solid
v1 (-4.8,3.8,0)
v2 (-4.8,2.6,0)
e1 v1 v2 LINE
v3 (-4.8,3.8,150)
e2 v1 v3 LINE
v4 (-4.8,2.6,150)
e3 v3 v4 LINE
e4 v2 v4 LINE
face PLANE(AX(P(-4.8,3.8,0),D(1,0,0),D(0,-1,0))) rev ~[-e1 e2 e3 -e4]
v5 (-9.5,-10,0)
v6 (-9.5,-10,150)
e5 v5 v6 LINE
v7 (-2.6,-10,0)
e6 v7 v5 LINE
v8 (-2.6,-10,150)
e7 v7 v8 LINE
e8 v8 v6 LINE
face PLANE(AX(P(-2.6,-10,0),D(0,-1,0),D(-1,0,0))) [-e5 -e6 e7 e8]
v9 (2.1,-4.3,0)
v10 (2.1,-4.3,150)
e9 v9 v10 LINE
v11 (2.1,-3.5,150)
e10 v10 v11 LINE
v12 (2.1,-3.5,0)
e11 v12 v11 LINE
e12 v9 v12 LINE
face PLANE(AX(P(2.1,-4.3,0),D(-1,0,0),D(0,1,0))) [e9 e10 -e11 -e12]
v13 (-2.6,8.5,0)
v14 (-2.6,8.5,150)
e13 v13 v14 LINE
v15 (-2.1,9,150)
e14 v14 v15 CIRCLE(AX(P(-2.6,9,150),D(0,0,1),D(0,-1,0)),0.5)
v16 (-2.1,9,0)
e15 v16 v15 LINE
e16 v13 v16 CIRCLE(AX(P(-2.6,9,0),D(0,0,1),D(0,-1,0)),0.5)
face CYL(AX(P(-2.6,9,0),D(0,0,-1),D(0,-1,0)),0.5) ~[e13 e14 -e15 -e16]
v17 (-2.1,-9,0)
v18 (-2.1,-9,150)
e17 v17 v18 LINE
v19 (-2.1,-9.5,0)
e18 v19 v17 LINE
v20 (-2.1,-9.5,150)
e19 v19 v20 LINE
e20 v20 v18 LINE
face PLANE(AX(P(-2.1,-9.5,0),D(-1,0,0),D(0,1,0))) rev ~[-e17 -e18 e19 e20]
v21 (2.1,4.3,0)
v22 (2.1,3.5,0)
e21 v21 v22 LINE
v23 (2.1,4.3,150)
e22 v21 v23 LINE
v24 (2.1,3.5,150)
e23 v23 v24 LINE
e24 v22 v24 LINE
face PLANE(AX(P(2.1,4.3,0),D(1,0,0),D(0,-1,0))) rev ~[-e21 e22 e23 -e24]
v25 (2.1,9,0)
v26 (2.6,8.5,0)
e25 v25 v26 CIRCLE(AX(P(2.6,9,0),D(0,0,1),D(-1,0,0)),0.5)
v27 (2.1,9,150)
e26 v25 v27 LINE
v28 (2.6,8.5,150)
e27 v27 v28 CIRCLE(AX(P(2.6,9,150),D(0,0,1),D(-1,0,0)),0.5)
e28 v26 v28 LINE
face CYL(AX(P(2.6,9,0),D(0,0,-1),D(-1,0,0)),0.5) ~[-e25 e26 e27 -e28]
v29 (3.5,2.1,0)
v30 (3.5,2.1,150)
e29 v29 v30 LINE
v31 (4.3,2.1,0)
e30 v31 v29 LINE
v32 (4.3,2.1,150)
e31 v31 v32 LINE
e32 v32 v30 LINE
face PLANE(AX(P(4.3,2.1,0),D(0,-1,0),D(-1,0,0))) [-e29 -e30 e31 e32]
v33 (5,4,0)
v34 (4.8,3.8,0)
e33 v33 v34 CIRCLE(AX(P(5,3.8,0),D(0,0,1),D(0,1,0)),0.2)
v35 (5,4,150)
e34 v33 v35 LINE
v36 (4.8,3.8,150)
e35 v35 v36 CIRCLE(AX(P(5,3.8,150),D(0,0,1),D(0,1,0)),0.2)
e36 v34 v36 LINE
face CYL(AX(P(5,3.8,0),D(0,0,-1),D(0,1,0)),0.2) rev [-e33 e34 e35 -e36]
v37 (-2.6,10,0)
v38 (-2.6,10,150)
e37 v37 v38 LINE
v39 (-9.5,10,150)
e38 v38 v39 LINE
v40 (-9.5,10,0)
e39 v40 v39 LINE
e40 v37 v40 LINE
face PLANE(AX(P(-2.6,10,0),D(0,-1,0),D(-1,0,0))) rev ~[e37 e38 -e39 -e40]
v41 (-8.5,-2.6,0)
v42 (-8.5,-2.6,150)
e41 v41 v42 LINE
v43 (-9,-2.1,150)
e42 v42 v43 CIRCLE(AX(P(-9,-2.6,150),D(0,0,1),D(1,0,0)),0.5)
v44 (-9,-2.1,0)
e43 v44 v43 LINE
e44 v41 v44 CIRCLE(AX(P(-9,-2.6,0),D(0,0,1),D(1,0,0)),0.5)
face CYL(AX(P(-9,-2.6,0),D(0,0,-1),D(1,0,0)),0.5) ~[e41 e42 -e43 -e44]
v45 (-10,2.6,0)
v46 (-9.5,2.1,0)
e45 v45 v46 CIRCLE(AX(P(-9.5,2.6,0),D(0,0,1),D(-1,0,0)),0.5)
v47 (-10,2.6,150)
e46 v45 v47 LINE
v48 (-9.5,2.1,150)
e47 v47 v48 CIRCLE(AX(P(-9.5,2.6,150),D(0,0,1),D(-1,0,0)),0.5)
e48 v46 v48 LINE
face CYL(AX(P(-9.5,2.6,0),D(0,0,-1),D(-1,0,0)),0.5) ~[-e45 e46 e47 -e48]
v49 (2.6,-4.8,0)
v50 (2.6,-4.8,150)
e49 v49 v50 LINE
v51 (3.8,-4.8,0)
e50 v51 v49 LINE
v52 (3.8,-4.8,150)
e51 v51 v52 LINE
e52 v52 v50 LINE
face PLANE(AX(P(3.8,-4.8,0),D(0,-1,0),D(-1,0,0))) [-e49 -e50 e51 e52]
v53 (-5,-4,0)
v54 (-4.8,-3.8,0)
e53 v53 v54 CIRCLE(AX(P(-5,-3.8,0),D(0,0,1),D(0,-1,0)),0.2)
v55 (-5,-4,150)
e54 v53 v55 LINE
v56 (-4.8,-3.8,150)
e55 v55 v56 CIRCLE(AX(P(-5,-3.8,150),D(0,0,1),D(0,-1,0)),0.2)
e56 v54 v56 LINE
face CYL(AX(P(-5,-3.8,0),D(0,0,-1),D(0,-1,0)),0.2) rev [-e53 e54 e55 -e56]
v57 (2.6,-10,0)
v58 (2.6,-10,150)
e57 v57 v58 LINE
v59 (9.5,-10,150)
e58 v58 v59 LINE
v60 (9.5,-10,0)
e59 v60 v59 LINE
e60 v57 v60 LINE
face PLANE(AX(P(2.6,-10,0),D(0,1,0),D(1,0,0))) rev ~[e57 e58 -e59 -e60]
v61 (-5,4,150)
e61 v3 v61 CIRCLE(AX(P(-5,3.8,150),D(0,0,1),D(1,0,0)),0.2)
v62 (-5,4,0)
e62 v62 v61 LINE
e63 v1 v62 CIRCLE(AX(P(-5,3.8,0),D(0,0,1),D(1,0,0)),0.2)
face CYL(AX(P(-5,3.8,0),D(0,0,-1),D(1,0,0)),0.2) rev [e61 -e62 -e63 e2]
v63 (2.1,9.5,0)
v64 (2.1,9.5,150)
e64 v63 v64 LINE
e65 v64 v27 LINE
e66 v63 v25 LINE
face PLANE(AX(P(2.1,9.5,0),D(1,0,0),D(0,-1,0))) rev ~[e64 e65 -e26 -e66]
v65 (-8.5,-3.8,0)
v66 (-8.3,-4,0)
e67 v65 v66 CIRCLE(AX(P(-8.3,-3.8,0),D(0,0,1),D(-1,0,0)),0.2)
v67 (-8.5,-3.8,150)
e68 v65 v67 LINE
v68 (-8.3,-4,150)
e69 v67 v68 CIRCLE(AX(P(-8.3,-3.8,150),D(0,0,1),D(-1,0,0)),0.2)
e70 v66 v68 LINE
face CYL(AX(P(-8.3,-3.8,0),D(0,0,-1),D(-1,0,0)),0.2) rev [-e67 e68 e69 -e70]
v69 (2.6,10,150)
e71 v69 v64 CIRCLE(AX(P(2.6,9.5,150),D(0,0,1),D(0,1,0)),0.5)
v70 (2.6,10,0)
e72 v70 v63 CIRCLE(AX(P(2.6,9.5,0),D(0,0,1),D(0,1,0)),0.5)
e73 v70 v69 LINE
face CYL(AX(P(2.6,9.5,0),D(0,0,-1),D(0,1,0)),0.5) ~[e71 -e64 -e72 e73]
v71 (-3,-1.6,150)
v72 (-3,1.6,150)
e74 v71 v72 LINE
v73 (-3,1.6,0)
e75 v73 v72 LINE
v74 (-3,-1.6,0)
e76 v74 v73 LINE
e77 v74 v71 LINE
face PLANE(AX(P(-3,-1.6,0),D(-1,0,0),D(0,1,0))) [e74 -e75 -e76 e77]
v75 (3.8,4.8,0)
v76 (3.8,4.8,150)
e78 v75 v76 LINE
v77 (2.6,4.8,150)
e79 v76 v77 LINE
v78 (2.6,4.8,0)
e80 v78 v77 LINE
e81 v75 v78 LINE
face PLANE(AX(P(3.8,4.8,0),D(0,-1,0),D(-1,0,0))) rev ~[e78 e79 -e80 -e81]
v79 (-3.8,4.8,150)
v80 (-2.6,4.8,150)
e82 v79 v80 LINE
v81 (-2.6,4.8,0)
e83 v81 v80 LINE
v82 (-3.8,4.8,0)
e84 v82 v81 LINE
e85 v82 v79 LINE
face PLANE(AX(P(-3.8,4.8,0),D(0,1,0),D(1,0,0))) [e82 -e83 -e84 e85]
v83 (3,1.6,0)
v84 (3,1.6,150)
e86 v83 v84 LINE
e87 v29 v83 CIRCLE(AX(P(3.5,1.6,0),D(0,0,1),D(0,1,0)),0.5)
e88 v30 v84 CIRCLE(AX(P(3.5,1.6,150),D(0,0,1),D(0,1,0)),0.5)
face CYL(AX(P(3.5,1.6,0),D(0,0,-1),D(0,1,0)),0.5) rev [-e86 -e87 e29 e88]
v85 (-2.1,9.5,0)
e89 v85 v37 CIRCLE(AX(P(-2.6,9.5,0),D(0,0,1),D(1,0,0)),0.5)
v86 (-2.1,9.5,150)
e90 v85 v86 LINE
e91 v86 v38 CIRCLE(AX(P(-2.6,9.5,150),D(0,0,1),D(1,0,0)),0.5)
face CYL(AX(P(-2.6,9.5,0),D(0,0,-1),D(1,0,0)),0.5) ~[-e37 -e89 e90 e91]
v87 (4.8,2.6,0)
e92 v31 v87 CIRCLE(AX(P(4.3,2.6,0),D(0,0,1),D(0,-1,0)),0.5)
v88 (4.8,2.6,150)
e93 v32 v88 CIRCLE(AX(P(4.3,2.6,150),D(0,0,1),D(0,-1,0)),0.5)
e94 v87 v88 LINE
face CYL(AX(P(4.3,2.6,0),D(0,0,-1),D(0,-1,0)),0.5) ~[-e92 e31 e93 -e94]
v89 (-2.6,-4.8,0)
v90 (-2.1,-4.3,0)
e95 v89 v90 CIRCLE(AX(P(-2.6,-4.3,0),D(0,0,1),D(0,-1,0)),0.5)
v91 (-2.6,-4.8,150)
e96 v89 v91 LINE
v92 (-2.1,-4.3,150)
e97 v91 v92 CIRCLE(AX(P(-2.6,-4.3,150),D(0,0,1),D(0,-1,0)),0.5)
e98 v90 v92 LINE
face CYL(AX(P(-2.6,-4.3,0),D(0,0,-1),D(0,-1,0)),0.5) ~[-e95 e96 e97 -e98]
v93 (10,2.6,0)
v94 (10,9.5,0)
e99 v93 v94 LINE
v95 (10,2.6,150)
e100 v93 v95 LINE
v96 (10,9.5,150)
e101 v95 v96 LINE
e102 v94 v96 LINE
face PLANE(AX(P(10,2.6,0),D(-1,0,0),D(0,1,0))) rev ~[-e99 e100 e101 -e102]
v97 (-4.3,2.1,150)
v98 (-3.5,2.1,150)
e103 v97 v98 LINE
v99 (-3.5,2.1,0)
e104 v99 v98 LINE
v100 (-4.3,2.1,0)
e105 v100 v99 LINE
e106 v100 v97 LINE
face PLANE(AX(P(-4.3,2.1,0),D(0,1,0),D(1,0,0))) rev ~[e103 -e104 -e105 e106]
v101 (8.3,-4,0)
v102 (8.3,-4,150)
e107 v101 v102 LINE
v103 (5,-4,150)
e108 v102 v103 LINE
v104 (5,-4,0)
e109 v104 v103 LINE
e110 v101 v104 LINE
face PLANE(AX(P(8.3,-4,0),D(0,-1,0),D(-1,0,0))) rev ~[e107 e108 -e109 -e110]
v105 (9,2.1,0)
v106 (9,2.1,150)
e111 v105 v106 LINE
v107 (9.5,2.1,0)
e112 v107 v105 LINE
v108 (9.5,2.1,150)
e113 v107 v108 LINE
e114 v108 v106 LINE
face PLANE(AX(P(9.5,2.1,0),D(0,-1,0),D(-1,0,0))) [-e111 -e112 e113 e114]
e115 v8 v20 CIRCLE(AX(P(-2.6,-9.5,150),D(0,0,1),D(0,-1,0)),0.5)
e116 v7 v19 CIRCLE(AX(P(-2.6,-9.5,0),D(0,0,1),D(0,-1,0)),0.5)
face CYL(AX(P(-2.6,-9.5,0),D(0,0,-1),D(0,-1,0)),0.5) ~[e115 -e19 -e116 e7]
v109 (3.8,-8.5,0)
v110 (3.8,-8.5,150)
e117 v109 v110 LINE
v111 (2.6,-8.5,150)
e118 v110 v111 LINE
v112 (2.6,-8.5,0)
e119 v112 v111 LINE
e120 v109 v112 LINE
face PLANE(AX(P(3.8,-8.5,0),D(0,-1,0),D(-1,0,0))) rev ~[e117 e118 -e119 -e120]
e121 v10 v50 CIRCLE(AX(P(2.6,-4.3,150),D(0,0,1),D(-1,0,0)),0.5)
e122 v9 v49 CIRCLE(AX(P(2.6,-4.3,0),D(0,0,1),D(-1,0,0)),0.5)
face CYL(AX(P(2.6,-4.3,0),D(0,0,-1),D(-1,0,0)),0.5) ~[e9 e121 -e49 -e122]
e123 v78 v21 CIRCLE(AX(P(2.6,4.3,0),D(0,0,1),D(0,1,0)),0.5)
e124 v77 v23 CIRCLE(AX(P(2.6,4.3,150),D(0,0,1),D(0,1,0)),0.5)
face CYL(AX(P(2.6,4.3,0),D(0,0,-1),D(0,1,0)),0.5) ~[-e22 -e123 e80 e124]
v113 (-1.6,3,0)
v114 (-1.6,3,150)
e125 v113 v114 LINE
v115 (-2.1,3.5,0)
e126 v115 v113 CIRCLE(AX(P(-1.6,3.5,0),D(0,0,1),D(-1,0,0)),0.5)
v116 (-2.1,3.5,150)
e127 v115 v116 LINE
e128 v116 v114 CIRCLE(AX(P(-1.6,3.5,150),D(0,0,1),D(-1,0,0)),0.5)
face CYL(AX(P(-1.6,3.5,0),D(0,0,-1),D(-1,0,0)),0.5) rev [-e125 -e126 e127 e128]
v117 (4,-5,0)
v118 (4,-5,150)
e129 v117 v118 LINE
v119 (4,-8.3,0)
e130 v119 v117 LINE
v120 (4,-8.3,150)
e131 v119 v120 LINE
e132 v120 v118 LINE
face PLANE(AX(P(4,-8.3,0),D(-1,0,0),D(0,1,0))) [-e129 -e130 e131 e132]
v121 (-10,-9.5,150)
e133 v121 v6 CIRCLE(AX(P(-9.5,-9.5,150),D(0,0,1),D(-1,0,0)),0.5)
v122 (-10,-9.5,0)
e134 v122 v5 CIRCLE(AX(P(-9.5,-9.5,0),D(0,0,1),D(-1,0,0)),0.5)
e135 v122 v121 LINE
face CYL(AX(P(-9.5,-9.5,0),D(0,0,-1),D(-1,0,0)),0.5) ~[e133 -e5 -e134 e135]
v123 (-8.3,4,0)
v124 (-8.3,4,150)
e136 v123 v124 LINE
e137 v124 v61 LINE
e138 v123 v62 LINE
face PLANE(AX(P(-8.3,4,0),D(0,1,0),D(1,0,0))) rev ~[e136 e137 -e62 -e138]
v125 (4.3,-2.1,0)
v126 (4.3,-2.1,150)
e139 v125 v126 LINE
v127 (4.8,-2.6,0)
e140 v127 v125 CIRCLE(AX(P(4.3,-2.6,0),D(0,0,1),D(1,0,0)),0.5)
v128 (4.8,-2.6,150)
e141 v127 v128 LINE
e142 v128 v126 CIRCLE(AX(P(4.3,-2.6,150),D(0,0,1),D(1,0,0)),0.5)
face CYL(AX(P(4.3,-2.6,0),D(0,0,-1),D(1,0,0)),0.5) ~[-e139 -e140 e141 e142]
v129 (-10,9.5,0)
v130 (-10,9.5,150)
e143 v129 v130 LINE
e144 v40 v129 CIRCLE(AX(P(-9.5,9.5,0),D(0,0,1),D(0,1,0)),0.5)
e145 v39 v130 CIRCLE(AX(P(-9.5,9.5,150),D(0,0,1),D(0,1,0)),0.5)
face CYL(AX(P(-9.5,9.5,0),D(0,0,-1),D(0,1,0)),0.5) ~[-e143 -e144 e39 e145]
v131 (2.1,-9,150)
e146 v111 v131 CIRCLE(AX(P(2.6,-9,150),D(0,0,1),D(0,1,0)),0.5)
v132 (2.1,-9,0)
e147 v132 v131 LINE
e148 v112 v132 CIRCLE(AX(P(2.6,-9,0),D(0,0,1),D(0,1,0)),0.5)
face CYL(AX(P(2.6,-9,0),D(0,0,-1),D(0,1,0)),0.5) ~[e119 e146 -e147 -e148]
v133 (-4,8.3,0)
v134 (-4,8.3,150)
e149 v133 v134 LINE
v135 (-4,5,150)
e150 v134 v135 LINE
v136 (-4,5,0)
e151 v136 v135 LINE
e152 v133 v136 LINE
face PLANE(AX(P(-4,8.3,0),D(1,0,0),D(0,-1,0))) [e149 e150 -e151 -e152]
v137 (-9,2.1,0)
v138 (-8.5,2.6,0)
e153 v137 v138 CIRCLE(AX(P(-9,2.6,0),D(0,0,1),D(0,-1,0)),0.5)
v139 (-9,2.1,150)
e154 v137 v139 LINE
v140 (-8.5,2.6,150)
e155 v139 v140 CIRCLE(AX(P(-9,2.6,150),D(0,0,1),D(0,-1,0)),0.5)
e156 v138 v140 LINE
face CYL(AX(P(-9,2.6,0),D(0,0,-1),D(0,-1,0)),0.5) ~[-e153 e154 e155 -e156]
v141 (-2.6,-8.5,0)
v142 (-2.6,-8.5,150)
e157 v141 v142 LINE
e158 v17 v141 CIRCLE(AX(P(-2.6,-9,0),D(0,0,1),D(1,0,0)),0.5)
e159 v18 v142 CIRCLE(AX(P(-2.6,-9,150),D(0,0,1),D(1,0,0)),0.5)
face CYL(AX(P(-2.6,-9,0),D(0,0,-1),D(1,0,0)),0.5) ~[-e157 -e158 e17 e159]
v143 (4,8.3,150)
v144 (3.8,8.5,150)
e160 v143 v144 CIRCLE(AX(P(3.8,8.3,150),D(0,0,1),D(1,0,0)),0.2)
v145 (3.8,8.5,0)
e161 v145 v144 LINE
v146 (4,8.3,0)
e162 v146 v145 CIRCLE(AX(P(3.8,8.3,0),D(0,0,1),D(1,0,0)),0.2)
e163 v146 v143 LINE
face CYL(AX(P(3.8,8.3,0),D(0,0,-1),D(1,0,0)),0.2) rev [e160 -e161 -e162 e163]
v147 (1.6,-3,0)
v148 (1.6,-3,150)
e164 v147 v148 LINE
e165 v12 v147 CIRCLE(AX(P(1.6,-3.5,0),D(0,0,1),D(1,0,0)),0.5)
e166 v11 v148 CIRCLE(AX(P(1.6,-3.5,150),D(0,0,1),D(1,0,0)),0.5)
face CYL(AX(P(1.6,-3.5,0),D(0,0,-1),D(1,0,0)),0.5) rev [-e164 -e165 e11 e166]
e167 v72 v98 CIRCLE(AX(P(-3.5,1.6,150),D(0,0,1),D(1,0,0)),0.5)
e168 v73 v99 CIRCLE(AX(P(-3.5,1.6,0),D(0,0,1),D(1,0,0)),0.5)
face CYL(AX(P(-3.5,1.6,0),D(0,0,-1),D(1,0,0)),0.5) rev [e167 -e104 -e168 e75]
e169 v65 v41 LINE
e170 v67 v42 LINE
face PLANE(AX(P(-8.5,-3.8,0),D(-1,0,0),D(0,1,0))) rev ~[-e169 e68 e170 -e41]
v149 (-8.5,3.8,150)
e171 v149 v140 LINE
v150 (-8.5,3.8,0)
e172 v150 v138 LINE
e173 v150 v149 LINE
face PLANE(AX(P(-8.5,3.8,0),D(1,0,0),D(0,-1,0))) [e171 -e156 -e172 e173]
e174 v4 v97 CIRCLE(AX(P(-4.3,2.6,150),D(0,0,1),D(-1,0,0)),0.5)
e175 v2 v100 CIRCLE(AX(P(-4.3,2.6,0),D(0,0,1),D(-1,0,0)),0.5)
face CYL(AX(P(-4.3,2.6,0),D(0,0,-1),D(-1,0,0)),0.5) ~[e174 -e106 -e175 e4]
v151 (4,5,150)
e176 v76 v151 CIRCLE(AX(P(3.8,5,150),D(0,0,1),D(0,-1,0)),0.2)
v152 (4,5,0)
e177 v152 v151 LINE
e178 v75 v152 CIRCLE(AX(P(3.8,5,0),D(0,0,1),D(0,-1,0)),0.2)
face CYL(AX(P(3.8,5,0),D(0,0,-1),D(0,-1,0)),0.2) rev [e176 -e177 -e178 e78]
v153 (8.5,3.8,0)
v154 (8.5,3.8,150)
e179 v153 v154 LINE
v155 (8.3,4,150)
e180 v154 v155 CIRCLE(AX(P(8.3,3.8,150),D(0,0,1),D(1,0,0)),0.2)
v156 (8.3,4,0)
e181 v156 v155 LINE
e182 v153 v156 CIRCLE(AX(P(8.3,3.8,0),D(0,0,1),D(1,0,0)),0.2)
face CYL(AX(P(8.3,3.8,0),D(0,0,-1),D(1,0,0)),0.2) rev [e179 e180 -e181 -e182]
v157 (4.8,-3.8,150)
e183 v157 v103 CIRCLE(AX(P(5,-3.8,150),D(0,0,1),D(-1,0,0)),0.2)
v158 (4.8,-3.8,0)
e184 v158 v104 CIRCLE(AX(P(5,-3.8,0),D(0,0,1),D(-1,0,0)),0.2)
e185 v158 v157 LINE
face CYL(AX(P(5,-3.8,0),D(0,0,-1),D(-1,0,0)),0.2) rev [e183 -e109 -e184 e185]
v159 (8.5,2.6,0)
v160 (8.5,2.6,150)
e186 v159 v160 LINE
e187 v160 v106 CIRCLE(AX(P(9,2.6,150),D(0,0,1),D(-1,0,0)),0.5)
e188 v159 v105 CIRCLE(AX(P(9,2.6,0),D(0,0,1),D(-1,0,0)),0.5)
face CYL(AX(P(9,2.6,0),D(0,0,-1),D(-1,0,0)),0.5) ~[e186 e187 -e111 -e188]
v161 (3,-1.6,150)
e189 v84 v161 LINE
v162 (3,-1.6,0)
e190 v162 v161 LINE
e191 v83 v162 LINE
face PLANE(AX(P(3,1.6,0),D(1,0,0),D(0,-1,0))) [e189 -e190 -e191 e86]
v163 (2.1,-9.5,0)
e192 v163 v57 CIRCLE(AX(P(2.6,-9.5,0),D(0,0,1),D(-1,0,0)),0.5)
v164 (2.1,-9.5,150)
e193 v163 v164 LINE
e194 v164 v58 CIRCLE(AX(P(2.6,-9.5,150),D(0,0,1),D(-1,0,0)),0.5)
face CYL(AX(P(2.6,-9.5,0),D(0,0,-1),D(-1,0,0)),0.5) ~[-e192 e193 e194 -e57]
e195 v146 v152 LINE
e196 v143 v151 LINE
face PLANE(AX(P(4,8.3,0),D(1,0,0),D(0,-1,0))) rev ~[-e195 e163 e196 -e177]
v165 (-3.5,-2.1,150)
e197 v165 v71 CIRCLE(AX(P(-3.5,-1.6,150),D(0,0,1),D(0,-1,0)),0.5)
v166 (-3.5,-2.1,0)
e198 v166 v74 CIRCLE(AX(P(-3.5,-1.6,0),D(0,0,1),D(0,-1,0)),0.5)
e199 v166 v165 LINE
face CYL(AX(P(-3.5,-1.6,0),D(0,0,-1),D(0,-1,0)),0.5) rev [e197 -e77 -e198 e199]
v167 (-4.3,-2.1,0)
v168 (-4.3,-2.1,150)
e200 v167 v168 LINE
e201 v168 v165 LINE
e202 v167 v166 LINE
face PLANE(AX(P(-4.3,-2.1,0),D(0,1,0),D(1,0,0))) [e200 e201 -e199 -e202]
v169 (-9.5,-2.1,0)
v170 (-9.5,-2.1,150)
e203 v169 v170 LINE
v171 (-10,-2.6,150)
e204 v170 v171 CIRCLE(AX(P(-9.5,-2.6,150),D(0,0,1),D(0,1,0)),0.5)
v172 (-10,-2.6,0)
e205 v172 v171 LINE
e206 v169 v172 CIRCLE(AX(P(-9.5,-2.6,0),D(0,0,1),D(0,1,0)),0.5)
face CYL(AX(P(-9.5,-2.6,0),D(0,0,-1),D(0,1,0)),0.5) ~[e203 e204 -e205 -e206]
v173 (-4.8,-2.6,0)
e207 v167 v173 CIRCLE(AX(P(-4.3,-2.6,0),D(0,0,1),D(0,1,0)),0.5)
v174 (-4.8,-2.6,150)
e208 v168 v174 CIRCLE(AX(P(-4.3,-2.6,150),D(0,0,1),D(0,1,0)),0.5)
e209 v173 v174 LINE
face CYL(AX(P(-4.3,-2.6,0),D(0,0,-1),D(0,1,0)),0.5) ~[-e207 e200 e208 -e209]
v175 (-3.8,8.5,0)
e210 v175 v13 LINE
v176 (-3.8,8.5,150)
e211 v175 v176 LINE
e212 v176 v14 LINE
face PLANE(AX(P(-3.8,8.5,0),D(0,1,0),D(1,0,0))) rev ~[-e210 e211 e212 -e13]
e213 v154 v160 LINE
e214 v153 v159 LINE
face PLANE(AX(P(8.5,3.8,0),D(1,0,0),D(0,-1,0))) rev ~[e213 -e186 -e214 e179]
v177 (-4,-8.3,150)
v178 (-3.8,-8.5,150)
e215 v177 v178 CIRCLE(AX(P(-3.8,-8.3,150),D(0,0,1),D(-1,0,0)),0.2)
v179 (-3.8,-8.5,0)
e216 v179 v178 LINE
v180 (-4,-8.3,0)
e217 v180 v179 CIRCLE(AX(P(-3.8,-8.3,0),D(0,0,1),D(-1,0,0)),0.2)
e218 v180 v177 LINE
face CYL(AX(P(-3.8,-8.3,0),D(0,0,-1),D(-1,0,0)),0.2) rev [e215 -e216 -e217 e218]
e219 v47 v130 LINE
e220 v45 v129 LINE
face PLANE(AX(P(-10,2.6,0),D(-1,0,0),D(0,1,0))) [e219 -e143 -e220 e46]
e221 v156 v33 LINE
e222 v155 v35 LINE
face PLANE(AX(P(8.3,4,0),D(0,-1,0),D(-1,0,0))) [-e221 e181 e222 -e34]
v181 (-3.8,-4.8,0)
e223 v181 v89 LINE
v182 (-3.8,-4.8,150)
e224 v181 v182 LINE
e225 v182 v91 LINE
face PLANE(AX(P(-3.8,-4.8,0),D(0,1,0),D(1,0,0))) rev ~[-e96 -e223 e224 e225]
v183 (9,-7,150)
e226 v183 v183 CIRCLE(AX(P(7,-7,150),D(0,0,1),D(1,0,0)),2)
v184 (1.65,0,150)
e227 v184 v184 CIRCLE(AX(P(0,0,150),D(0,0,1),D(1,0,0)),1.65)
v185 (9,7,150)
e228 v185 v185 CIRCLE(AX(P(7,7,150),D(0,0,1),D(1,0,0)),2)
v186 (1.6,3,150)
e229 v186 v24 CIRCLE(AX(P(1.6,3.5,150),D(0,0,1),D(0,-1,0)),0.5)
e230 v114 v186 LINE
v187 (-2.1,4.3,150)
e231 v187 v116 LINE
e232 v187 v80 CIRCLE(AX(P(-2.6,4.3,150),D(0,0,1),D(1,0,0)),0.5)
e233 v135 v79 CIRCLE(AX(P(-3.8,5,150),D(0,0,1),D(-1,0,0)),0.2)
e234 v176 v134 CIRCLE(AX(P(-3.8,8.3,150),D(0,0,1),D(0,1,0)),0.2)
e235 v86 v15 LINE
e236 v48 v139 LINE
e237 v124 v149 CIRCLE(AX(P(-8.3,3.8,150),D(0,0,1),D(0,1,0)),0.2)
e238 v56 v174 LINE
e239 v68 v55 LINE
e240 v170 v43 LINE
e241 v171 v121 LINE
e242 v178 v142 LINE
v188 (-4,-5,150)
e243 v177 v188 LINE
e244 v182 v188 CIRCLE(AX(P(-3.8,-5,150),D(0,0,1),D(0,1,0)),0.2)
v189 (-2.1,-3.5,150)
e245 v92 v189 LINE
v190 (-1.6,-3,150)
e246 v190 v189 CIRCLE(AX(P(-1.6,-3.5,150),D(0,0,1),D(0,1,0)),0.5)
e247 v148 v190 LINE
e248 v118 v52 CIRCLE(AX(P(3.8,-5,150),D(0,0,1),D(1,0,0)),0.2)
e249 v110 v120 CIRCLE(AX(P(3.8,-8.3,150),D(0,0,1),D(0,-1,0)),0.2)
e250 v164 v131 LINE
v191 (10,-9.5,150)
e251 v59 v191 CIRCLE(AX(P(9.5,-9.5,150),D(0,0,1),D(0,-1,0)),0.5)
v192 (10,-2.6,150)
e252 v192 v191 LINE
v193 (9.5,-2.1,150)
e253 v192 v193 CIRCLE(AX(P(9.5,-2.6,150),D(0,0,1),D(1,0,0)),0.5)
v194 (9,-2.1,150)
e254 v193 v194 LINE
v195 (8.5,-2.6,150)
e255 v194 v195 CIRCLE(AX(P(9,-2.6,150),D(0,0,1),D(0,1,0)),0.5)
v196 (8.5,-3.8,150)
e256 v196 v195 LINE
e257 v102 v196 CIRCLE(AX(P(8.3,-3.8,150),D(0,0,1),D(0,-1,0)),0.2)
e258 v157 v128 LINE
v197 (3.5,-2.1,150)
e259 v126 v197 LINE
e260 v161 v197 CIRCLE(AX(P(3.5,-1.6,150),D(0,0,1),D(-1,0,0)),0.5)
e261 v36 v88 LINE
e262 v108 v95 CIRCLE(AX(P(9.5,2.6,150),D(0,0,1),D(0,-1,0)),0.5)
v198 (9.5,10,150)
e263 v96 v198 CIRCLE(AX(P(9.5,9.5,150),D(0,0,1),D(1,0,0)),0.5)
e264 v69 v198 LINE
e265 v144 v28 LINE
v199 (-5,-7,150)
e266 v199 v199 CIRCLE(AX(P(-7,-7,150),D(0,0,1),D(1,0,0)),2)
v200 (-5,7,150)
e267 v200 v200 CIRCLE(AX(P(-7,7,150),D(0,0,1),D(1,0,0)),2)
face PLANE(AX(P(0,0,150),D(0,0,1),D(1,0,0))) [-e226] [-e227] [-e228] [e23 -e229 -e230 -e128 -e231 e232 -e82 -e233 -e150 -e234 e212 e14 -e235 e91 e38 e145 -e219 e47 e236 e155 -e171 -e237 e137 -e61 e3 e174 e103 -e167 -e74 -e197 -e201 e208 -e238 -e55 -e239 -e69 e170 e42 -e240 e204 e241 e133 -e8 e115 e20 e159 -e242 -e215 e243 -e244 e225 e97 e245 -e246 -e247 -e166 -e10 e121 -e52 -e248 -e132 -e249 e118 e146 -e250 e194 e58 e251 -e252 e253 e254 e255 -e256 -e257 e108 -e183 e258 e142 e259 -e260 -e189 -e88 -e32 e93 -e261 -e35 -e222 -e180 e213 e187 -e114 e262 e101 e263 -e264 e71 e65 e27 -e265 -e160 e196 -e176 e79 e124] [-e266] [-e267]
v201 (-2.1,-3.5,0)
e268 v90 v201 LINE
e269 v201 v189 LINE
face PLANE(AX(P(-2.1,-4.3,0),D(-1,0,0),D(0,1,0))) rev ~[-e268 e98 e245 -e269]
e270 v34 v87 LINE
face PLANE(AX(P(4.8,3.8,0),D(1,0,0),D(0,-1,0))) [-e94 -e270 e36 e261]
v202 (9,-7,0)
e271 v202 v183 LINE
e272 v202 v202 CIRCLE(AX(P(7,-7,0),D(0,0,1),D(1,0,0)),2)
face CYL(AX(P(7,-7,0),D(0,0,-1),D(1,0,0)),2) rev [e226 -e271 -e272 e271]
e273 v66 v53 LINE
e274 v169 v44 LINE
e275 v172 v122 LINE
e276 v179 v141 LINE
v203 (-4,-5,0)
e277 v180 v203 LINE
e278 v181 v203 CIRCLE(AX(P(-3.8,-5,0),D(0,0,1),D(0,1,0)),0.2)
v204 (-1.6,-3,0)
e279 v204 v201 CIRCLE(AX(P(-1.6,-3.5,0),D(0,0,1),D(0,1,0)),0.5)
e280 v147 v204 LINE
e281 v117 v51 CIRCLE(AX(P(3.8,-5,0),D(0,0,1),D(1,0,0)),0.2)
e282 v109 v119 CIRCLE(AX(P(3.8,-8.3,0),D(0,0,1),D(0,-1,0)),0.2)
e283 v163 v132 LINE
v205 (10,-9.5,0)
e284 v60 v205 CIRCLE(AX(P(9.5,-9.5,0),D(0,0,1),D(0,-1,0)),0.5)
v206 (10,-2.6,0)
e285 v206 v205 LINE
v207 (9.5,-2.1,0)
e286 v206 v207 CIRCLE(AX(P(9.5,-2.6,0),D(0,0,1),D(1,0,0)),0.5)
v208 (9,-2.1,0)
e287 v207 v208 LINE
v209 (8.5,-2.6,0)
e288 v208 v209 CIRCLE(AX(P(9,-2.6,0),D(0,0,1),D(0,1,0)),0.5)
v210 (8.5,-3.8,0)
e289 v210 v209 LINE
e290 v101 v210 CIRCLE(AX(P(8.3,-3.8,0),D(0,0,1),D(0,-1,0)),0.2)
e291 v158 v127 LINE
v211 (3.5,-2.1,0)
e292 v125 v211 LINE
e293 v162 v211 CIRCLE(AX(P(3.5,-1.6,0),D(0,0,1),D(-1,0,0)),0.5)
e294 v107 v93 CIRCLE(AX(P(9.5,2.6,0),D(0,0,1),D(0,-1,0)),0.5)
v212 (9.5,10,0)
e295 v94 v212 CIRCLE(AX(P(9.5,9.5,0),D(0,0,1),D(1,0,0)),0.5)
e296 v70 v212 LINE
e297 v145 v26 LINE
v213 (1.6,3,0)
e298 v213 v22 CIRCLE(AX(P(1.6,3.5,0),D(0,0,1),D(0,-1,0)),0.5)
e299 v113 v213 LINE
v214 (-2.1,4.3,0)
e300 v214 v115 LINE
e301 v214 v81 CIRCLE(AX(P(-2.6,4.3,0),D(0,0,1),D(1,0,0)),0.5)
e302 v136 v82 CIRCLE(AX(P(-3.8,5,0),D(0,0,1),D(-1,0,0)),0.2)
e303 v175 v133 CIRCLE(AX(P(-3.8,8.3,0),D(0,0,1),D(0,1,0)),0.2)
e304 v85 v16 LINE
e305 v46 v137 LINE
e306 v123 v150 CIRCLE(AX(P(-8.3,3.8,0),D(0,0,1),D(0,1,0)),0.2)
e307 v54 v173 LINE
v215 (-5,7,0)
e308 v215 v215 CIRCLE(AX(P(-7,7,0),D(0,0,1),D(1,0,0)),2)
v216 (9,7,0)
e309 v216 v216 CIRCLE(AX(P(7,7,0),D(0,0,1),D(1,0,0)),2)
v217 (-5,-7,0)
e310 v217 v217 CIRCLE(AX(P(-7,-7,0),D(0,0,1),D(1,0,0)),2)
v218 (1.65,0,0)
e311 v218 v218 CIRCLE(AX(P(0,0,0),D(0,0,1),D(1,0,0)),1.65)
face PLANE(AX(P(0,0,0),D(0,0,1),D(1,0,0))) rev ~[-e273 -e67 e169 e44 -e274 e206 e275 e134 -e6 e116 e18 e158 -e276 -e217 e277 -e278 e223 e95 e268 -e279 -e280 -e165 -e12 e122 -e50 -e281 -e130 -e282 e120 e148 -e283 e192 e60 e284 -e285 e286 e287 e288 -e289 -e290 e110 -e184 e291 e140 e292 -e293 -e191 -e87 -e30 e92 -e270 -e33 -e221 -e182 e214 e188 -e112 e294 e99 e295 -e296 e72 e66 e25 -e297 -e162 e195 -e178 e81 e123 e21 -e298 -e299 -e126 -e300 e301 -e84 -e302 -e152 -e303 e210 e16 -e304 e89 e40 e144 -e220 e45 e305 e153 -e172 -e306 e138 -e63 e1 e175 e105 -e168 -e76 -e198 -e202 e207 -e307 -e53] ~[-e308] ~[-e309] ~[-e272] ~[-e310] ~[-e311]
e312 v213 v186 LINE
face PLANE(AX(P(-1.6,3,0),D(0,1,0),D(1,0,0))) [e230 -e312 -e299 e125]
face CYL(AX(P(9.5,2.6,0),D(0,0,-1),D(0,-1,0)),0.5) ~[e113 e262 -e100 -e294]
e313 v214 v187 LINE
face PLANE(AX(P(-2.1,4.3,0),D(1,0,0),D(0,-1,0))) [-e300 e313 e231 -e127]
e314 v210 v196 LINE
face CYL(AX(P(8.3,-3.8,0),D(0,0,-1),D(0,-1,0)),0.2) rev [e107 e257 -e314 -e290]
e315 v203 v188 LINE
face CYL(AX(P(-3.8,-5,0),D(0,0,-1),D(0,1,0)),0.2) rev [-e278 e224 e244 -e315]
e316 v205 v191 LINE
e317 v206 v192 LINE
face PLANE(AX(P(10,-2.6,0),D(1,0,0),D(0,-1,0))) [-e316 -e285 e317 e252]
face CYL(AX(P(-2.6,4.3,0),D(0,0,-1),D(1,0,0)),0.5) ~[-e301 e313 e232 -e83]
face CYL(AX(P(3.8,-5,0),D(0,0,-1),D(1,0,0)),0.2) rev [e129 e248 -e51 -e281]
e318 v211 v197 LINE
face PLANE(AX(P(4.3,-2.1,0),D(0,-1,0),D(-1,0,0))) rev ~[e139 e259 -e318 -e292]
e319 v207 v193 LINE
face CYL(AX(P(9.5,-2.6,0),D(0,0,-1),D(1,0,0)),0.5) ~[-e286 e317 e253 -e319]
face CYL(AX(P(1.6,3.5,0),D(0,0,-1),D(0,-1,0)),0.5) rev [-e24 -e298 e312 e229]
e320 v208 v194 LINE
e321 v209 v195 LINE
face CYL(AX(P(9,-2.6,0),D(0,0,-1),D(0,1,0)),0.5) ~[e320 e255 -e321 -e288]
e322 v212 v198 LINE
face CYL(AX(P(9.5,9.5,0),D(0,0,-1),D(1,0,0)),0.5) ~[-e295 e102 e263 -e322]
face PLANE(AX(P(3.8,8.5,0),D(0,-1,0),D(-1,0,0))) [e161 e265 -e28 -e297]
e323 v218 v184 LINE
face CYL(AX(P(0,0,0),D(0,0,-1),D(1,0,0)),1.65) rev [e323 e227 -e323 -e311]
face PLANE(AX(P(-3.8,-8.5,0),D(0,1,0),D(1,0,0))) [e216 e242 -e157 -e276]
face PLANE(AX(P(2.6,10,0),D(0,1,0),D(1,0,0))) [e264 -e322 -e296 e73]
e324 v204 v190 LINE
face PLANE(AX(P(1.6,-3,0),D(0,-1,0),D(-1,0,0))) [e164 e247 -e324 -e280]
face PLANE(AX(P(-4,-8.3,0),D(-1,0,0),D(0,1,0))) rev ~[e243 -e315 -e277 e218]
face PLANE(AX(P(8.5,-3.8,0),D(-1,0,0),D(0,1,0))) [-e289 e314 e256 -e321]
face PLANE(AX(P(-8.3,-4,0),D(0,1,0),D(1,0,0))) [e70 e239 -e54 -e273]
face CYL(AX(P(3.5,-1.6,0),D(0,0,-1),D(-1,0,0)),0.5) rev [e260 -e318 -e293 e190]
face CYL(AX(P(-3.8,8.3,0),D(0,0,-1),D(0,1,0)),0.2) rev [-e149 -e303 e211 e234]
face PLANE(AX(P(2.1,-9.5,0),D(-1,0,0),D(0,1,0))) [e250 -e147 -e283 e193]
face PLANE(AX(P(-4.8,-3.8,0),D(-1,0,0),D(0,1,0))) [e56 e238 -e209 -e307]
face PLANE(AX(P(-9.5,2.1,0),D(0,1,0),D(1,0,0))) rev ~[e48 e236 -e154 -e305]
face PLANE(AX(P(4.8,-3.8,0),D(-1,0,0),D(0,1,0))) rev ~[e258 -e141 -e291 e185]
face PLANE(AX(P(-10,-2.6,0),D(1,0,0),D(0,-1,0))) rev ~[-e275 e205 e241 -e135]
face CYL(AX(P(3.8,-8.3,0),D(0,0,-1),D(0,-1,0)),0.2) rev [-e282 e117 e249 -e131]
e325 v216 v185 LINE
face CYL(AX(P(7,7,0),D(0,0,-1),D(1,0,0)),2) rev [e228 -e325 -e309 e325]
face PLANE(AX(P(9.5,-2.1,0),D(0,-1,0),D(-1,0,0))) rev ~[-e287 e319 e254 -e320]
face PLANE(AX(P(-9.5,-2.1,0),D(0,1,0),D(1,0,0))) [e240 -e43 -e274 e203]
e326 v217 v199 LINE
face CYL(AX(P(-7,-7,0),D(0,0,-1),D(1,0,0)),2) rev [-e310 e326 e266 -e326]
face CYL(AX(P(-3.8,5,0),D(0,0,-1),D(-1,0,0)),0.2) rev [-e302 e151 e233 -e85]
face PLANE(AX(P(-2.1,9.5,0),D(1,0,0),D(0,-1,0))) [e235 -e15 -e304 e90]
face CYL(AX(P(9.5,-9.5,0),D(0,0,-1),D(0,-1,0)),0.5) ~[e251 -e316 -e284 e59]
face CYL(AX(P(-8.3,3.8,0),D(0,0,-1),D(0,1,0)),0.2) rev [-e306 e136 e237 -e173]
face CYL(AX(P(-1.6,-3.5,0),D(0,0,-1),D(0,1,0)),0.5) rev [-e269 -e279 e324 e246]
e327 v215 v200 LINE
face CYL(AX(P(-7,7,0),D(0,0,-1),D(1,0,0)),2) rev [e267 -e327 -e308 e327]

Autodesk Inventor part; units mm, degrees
ref_plane "YZ Plane" through (0, 0, 0) normal (1, 0, 0) x (0, 1, 0)
ref_plane "XZ Plane" through (0, 0, 0) normal (0, 1, 0) x (-1, 0, 0)
ref_plane "XY Plane" through (0, 0, 0) normal (0, 0, 1) x (1, 0, 0)
sketch "BaseS" plane through (0, 0, 0) normal (0, 0, 1) x (1, 0, 0)
  line L0 (8.5, -3.8) -> (8.5, -2.6)
  line L1 (4, -8.3) -> (4, -5)
  circle A0 centre (7, -7) radius 2
  line L2 (10, -2.6) -> (10, -9.5)
  line L3 (2.6, -10) -> (9.5, -10)
  line L4 (2.1, -9.5) -> (2.1, -9)
  line L5 (8.5, -2.6) -> (8.5, -3.8)
  line L6 (3.8, -4.8) -> (2.6, -4.8)
  line L7 (4.8, -3.8) -> (4.8, -2.6)
  arc A1 (2.1, -4.3) -> (2.6, -4.8) centre (2.6, -4.3) ccw
  arc A2 (2.6, -8.5) -> (2.1, -9) centre (2.6, -9) ccw
  arc A3 (3.8, -8.5) -> (4, -8.3) centre (3.8, -8.3) ccw
  arc A4 (4, -5) -> (3.8, -4.8) centre (3.8, -5) ccw
  arc A5 (2.1, -3.5) -> (1.6, -3) centre (1.6, -3.5) ccw
  arc A6 (2.1, -9.5) -> (2.6, -10) centre (2.6, -9.5) ccw
  arc A7 (9.5, -10) -> (10, -9.5) centre (9.5, -9.5) ccw
  arc A8 (10, -2.6) -> (9.5, -2.1) centre (9.5, -2.6) ccw
  arc A9 (9, -2.1) -> (8.5, -2.6) centre (9, -2.6) ccw
  arc A10 (8.3, -4) -> (8.5, -3.8) centre (8.3, -3.8) ccw
  arc A11 (4.8, -3.8) -> (5, -4) centre (5, -3.8) ccw
  line L8 (4.3, -2.1) -> (3.5, -2.1)
  arc A12 (4.8, -2.6) -> (4.3, -2.1) centre (4.3, -2.6) ccw
  arc A13 (3, -1.6) -> (3.5, -2.1) centre (3.5, -1.6) ccw
  line L9 (2.1, -4.3) -> (2.1, -3.5)
  line L10 (3.8, -8.5) -> (2.6, -8.5)
  line L11 (9.5, -2.1) -> (9, -2.1)
  line L12 (8.3, -4) -> (5, -4)
  circle A14 centre (0, 0) radius 1.65
  arc A15 (8.5, 2.6) -> (9, 2.1) centre (9, 2.6) ccw
  line L13 (8.5, 3.8) -> (8.5, 2.6)
  arc A16 (8.5, 3.8) -> (8.3, 4) centre (8.3, 3.8) ccw
  line L14 (8.3, 4) -> (5, 4)
  line L15 (10, 2.6) -> (10, 9.5)
  arc A17 (10, 9.5) -> (9.5, 10) centre (9.5, 9.5) ccw
  circle A18 centre (7, 7) radius 2
  line L16 (4, 8.3) -> (4, 5)
  line L17 (2.6, 10) -> (9.5, 10)
  line L18 (9.5, 2.1) -> (9, 2.1)
  arc A19 (9.5, 2.1) -> (10, 2.6) centre (9.5, 2.6) ccw
  line L19 (3.8, 8.5) -> (2.6, 8.5)
  line L20 (4.8, 3.8) -> (4.8, 2.6)
  arc A20 (4.3, 2.1) -> (4.8, 2.6) centre (4.3, 2.6) ccw
  line L21 (2.6, 8.5) -> (3.8, 8.5)
  arc A21 (4, 8.3) -> (3.8, 8.5) centre (3.8, 8.3) ccw
  arc A22 (2.1, 9) -> (2.6, 8.5) centre (2.6, 9) ccw
  arc A23 (2.6, 10) -> (2.1, 9.5) centre (2.6, 9.5) ccw
  line L22 (2.1, 9.5) -> (2.1, 9)
  arc A24 (1.6, 3) -> (2.1, 3.5) centre (1.6, 3.5) ccw
  line L23 (3.8, 4.8) -> (2.6, 4.8)
  arc A25 (5, 4) -> (4.8, 3.8) centre (5, 3.8) ccw
  arc A26 (3.8, 4.8) -> (4, 5) centre (3.8, 5) ccw
  line L24 (4.3, 2.1) -> (3.5, 2.1)
  arc A27 (2.6, 4.8) -> (2.1, 4.3) centre (2.6, 4.3) ccw
  line L25 (2.1, 4.3) -> (2.1, 3.5)
  arc A28 (3.5, 2.1) -> (3, 1.6) centre (3.5, 1.6) ccw
  arc A29 (-2.6, 8.5) -> (-2.1, 9) centre (-2.6, 9) ccw
  line L26 (-3.8, 8.5) -> (-2.6, 8.5)
  arc A30 (-3.8, 8.5) -> (-4, 8.3) centre (-3.8, 8.3) ccw
  line L27 (-4, 8.3) -> (-4, 5)
  line L28 (-2.6, 10) -> (-9.5, 10)
  arc A31 (-9.5, 10) -> (-10, 9.5) centre (-9.5, 9.5) ccw
  circle A32 centre (-7, 7) radius 2
  line L29 (-8.3, 4) -> (-5, 4)
  line L30 (-10, 2.6) -> (-10, 9.5)
  line L31 (-2.1, 9.5) -> (-2.1, 9)
  arc A33 (-2.1, 9.5) -> (-2.6, 10) centre (-2.6, 9.5) ccw
  line L32 (-8.5, 3.8) -> (-8.5, 2.6)
  line L33 (-3.8, 4.8) -> (-2.6, 4.8)
  arc A34 (-2.1, 4.3) -> (-2.6, 4.8) centre (-2.6, 4.3) ccw
  line L34 (-8.5, 2.6) -> (-8.5, 3.8)
  arc A35 (-8.3, 4) -> (-8.5, 3.8) centre (-8.3, 3.8) ccw
  arc A36 (-9, 2.1) -> (-8.5, 2.6) centre (-9, 2.6) ccw
  arc A37 (-10, 2.6) -> (-9.5, 2.1) centre (-9.5, 2.6) ccw
  line L35 (-9.5, 2.1) -> (-9, 2.1)
  arc A38 (-3, 1.6) -> (-3.5, 2.1) centre (-3.5, 1.6) ccw
  line L36 (-4.8, 3.8) -> (-4.8, 2.6)
  arc A39 (-4, 5) -> (-3.8, 4.8) centre (-3.8, 5) ccw
  arc A40 (-4.8, 3.8) -> (-5, 4) centre (-5, 3.8) ccw
  line L37 (-2.1, 4.3) -> (-2.1, 3.5)
  arc A41 (-4.8, 2.6) -> (-4.3, 2.1) centre (-4.3, 2.6) ccw
  line L38 (-4.3, 2.1) -> (-3.5, 2.1)
  arc A42 (-2.1, 3.5) -> (-1.6, 3) centre (-1.6, 3.5) ccw
  arc A43 (-8.5, -2.6) -> (-9, -2.1) centre (-9, -2.6) ccw
  line L39 (-8.5, -3.8) -> (-8.5, -2.6)
  arc A44 (-8.5, -3.8) -> (-8.3, -4) centre (-8.3, -3.8) ccw
  line L40 (-8.3, -4) -> (-5, -4)
  line L41 (-10, -2.6) -> (-10, -9.5)
  arc A45 (-10, -9.5) -> (-9.5, -10) centre (-9.5, -9.5) ccw
  circle A46 centre (-7, -7) radius 2
  line L42 (-4, -8.3) -> (-4, -5)
  line L43 (-2.6, -10) -> (-9.5, -10)
  line L44 (-9.5, -2.1) -> (-9, -2.1)
  arc A47 (-9.5, -2.1) -> (-10, -2.6) centre (-9.5, -2.6) ccw
  line L45 (-3.8, -8.5) -> (-2.6, -8.5)
  line L46 (-4.8, -3.8) -> (-4.8, -2.6)
  arc A48 (-4.3, -2.1) -> (-4.8, -2.6) centre (-4.3, -2.6) ccw
  line L47 (-2.6, -8.5) -> (-3.8, -8.5)
  arc A49 (-4, -8.3) -> (-3.8, -8.5) centre (-3.8, -8.3) ccw
  arc A50 (-2.1, -9) -> (-2.6, -8.5) centre (-2.6, -9) ccw
  arc A51 (-2.6, -10) -> (-2.1, -9.5) centre (-2.6, -9.5) ccw
  line L48 (-2.1, -9.5) -> (-2.1, -9)
  arc A52 (-1.6, -3) -> (-2.1, -3.5) centre (-1.6, -3.5) ccw
  line L49 (-3.8, -4.8) -> (-2.6, -4.8)
  arc A53 (-5, -4) -> (-4.8, -3.8) centre (-5, -3.8) ccw
  arc A54 (-3.8, -4.8) -> (-4, -5) centre (-3.8, -5) ccw
  line L50 (-4.3, -2.1) -> (-3.5, -2.1)
  arc A55 (-2.6, -4.8) -> (-2.1, -4.3) centre (-2.6, -4.3) ccw
  line L51 (-2.1, -4.3) -> (-2.1, -3.5)
  arc A56 (-3.5, -2.1) -> (-3, -1.6) centre (-3.5, -1.6) ccw
  line L52 (1.6, -3) -> (-1.6, -3)
  line L53 (-3, -1.6) -> (-3, 1.6)
  line L54 (-1.6, 3) -> (1.6, 3)
  line L55 (3, 1.6) -> (3, -1.6)
  point P0 (2.1, -10)
  point P1 (10, 2.1)
  point P2 (-2.1, 10)
  point P3 (-10, -2.1)
  dimension "d2" = 4
  dimension "d3" = 3.7
  dimension "d4" = 0.5
  dimension "d5" = 0.5
  dimension "d6" = 0.2
  dimension "d7" = 0.5
  dimension "d8" = 0.5
  dimension "d9" = 0.5
  dimension "d10" = 0.2
  dimension "d11" = 0.5
  dimension "d12" = 1.5
  dimension "d13" = 3.7
  dimension "d14" = 1.5
  dimension "d15" = 3.3
  dimension "d16" = 10
  dimension "d17" = 2.1
  dimension "d18" = 2.1
  dimension "d19" = 1.9
  dimension "d20" = 7
  dimension "d21" = 2.1
  dimension "d22" = 2.1
  dimension "d23" = 1.9
  dimension "d24" = 7
  dimension "d25" = 10
  dimension "d26" = 360
  dimension "d27" = 3
extrude "押し出し1" add sketch "BaseS" along normal blind 150
equation "\"d28\" = L"
equation "\"L\" = 150"
properties part number "AFS-2020-4-150" material "アルミニウム 6061"
